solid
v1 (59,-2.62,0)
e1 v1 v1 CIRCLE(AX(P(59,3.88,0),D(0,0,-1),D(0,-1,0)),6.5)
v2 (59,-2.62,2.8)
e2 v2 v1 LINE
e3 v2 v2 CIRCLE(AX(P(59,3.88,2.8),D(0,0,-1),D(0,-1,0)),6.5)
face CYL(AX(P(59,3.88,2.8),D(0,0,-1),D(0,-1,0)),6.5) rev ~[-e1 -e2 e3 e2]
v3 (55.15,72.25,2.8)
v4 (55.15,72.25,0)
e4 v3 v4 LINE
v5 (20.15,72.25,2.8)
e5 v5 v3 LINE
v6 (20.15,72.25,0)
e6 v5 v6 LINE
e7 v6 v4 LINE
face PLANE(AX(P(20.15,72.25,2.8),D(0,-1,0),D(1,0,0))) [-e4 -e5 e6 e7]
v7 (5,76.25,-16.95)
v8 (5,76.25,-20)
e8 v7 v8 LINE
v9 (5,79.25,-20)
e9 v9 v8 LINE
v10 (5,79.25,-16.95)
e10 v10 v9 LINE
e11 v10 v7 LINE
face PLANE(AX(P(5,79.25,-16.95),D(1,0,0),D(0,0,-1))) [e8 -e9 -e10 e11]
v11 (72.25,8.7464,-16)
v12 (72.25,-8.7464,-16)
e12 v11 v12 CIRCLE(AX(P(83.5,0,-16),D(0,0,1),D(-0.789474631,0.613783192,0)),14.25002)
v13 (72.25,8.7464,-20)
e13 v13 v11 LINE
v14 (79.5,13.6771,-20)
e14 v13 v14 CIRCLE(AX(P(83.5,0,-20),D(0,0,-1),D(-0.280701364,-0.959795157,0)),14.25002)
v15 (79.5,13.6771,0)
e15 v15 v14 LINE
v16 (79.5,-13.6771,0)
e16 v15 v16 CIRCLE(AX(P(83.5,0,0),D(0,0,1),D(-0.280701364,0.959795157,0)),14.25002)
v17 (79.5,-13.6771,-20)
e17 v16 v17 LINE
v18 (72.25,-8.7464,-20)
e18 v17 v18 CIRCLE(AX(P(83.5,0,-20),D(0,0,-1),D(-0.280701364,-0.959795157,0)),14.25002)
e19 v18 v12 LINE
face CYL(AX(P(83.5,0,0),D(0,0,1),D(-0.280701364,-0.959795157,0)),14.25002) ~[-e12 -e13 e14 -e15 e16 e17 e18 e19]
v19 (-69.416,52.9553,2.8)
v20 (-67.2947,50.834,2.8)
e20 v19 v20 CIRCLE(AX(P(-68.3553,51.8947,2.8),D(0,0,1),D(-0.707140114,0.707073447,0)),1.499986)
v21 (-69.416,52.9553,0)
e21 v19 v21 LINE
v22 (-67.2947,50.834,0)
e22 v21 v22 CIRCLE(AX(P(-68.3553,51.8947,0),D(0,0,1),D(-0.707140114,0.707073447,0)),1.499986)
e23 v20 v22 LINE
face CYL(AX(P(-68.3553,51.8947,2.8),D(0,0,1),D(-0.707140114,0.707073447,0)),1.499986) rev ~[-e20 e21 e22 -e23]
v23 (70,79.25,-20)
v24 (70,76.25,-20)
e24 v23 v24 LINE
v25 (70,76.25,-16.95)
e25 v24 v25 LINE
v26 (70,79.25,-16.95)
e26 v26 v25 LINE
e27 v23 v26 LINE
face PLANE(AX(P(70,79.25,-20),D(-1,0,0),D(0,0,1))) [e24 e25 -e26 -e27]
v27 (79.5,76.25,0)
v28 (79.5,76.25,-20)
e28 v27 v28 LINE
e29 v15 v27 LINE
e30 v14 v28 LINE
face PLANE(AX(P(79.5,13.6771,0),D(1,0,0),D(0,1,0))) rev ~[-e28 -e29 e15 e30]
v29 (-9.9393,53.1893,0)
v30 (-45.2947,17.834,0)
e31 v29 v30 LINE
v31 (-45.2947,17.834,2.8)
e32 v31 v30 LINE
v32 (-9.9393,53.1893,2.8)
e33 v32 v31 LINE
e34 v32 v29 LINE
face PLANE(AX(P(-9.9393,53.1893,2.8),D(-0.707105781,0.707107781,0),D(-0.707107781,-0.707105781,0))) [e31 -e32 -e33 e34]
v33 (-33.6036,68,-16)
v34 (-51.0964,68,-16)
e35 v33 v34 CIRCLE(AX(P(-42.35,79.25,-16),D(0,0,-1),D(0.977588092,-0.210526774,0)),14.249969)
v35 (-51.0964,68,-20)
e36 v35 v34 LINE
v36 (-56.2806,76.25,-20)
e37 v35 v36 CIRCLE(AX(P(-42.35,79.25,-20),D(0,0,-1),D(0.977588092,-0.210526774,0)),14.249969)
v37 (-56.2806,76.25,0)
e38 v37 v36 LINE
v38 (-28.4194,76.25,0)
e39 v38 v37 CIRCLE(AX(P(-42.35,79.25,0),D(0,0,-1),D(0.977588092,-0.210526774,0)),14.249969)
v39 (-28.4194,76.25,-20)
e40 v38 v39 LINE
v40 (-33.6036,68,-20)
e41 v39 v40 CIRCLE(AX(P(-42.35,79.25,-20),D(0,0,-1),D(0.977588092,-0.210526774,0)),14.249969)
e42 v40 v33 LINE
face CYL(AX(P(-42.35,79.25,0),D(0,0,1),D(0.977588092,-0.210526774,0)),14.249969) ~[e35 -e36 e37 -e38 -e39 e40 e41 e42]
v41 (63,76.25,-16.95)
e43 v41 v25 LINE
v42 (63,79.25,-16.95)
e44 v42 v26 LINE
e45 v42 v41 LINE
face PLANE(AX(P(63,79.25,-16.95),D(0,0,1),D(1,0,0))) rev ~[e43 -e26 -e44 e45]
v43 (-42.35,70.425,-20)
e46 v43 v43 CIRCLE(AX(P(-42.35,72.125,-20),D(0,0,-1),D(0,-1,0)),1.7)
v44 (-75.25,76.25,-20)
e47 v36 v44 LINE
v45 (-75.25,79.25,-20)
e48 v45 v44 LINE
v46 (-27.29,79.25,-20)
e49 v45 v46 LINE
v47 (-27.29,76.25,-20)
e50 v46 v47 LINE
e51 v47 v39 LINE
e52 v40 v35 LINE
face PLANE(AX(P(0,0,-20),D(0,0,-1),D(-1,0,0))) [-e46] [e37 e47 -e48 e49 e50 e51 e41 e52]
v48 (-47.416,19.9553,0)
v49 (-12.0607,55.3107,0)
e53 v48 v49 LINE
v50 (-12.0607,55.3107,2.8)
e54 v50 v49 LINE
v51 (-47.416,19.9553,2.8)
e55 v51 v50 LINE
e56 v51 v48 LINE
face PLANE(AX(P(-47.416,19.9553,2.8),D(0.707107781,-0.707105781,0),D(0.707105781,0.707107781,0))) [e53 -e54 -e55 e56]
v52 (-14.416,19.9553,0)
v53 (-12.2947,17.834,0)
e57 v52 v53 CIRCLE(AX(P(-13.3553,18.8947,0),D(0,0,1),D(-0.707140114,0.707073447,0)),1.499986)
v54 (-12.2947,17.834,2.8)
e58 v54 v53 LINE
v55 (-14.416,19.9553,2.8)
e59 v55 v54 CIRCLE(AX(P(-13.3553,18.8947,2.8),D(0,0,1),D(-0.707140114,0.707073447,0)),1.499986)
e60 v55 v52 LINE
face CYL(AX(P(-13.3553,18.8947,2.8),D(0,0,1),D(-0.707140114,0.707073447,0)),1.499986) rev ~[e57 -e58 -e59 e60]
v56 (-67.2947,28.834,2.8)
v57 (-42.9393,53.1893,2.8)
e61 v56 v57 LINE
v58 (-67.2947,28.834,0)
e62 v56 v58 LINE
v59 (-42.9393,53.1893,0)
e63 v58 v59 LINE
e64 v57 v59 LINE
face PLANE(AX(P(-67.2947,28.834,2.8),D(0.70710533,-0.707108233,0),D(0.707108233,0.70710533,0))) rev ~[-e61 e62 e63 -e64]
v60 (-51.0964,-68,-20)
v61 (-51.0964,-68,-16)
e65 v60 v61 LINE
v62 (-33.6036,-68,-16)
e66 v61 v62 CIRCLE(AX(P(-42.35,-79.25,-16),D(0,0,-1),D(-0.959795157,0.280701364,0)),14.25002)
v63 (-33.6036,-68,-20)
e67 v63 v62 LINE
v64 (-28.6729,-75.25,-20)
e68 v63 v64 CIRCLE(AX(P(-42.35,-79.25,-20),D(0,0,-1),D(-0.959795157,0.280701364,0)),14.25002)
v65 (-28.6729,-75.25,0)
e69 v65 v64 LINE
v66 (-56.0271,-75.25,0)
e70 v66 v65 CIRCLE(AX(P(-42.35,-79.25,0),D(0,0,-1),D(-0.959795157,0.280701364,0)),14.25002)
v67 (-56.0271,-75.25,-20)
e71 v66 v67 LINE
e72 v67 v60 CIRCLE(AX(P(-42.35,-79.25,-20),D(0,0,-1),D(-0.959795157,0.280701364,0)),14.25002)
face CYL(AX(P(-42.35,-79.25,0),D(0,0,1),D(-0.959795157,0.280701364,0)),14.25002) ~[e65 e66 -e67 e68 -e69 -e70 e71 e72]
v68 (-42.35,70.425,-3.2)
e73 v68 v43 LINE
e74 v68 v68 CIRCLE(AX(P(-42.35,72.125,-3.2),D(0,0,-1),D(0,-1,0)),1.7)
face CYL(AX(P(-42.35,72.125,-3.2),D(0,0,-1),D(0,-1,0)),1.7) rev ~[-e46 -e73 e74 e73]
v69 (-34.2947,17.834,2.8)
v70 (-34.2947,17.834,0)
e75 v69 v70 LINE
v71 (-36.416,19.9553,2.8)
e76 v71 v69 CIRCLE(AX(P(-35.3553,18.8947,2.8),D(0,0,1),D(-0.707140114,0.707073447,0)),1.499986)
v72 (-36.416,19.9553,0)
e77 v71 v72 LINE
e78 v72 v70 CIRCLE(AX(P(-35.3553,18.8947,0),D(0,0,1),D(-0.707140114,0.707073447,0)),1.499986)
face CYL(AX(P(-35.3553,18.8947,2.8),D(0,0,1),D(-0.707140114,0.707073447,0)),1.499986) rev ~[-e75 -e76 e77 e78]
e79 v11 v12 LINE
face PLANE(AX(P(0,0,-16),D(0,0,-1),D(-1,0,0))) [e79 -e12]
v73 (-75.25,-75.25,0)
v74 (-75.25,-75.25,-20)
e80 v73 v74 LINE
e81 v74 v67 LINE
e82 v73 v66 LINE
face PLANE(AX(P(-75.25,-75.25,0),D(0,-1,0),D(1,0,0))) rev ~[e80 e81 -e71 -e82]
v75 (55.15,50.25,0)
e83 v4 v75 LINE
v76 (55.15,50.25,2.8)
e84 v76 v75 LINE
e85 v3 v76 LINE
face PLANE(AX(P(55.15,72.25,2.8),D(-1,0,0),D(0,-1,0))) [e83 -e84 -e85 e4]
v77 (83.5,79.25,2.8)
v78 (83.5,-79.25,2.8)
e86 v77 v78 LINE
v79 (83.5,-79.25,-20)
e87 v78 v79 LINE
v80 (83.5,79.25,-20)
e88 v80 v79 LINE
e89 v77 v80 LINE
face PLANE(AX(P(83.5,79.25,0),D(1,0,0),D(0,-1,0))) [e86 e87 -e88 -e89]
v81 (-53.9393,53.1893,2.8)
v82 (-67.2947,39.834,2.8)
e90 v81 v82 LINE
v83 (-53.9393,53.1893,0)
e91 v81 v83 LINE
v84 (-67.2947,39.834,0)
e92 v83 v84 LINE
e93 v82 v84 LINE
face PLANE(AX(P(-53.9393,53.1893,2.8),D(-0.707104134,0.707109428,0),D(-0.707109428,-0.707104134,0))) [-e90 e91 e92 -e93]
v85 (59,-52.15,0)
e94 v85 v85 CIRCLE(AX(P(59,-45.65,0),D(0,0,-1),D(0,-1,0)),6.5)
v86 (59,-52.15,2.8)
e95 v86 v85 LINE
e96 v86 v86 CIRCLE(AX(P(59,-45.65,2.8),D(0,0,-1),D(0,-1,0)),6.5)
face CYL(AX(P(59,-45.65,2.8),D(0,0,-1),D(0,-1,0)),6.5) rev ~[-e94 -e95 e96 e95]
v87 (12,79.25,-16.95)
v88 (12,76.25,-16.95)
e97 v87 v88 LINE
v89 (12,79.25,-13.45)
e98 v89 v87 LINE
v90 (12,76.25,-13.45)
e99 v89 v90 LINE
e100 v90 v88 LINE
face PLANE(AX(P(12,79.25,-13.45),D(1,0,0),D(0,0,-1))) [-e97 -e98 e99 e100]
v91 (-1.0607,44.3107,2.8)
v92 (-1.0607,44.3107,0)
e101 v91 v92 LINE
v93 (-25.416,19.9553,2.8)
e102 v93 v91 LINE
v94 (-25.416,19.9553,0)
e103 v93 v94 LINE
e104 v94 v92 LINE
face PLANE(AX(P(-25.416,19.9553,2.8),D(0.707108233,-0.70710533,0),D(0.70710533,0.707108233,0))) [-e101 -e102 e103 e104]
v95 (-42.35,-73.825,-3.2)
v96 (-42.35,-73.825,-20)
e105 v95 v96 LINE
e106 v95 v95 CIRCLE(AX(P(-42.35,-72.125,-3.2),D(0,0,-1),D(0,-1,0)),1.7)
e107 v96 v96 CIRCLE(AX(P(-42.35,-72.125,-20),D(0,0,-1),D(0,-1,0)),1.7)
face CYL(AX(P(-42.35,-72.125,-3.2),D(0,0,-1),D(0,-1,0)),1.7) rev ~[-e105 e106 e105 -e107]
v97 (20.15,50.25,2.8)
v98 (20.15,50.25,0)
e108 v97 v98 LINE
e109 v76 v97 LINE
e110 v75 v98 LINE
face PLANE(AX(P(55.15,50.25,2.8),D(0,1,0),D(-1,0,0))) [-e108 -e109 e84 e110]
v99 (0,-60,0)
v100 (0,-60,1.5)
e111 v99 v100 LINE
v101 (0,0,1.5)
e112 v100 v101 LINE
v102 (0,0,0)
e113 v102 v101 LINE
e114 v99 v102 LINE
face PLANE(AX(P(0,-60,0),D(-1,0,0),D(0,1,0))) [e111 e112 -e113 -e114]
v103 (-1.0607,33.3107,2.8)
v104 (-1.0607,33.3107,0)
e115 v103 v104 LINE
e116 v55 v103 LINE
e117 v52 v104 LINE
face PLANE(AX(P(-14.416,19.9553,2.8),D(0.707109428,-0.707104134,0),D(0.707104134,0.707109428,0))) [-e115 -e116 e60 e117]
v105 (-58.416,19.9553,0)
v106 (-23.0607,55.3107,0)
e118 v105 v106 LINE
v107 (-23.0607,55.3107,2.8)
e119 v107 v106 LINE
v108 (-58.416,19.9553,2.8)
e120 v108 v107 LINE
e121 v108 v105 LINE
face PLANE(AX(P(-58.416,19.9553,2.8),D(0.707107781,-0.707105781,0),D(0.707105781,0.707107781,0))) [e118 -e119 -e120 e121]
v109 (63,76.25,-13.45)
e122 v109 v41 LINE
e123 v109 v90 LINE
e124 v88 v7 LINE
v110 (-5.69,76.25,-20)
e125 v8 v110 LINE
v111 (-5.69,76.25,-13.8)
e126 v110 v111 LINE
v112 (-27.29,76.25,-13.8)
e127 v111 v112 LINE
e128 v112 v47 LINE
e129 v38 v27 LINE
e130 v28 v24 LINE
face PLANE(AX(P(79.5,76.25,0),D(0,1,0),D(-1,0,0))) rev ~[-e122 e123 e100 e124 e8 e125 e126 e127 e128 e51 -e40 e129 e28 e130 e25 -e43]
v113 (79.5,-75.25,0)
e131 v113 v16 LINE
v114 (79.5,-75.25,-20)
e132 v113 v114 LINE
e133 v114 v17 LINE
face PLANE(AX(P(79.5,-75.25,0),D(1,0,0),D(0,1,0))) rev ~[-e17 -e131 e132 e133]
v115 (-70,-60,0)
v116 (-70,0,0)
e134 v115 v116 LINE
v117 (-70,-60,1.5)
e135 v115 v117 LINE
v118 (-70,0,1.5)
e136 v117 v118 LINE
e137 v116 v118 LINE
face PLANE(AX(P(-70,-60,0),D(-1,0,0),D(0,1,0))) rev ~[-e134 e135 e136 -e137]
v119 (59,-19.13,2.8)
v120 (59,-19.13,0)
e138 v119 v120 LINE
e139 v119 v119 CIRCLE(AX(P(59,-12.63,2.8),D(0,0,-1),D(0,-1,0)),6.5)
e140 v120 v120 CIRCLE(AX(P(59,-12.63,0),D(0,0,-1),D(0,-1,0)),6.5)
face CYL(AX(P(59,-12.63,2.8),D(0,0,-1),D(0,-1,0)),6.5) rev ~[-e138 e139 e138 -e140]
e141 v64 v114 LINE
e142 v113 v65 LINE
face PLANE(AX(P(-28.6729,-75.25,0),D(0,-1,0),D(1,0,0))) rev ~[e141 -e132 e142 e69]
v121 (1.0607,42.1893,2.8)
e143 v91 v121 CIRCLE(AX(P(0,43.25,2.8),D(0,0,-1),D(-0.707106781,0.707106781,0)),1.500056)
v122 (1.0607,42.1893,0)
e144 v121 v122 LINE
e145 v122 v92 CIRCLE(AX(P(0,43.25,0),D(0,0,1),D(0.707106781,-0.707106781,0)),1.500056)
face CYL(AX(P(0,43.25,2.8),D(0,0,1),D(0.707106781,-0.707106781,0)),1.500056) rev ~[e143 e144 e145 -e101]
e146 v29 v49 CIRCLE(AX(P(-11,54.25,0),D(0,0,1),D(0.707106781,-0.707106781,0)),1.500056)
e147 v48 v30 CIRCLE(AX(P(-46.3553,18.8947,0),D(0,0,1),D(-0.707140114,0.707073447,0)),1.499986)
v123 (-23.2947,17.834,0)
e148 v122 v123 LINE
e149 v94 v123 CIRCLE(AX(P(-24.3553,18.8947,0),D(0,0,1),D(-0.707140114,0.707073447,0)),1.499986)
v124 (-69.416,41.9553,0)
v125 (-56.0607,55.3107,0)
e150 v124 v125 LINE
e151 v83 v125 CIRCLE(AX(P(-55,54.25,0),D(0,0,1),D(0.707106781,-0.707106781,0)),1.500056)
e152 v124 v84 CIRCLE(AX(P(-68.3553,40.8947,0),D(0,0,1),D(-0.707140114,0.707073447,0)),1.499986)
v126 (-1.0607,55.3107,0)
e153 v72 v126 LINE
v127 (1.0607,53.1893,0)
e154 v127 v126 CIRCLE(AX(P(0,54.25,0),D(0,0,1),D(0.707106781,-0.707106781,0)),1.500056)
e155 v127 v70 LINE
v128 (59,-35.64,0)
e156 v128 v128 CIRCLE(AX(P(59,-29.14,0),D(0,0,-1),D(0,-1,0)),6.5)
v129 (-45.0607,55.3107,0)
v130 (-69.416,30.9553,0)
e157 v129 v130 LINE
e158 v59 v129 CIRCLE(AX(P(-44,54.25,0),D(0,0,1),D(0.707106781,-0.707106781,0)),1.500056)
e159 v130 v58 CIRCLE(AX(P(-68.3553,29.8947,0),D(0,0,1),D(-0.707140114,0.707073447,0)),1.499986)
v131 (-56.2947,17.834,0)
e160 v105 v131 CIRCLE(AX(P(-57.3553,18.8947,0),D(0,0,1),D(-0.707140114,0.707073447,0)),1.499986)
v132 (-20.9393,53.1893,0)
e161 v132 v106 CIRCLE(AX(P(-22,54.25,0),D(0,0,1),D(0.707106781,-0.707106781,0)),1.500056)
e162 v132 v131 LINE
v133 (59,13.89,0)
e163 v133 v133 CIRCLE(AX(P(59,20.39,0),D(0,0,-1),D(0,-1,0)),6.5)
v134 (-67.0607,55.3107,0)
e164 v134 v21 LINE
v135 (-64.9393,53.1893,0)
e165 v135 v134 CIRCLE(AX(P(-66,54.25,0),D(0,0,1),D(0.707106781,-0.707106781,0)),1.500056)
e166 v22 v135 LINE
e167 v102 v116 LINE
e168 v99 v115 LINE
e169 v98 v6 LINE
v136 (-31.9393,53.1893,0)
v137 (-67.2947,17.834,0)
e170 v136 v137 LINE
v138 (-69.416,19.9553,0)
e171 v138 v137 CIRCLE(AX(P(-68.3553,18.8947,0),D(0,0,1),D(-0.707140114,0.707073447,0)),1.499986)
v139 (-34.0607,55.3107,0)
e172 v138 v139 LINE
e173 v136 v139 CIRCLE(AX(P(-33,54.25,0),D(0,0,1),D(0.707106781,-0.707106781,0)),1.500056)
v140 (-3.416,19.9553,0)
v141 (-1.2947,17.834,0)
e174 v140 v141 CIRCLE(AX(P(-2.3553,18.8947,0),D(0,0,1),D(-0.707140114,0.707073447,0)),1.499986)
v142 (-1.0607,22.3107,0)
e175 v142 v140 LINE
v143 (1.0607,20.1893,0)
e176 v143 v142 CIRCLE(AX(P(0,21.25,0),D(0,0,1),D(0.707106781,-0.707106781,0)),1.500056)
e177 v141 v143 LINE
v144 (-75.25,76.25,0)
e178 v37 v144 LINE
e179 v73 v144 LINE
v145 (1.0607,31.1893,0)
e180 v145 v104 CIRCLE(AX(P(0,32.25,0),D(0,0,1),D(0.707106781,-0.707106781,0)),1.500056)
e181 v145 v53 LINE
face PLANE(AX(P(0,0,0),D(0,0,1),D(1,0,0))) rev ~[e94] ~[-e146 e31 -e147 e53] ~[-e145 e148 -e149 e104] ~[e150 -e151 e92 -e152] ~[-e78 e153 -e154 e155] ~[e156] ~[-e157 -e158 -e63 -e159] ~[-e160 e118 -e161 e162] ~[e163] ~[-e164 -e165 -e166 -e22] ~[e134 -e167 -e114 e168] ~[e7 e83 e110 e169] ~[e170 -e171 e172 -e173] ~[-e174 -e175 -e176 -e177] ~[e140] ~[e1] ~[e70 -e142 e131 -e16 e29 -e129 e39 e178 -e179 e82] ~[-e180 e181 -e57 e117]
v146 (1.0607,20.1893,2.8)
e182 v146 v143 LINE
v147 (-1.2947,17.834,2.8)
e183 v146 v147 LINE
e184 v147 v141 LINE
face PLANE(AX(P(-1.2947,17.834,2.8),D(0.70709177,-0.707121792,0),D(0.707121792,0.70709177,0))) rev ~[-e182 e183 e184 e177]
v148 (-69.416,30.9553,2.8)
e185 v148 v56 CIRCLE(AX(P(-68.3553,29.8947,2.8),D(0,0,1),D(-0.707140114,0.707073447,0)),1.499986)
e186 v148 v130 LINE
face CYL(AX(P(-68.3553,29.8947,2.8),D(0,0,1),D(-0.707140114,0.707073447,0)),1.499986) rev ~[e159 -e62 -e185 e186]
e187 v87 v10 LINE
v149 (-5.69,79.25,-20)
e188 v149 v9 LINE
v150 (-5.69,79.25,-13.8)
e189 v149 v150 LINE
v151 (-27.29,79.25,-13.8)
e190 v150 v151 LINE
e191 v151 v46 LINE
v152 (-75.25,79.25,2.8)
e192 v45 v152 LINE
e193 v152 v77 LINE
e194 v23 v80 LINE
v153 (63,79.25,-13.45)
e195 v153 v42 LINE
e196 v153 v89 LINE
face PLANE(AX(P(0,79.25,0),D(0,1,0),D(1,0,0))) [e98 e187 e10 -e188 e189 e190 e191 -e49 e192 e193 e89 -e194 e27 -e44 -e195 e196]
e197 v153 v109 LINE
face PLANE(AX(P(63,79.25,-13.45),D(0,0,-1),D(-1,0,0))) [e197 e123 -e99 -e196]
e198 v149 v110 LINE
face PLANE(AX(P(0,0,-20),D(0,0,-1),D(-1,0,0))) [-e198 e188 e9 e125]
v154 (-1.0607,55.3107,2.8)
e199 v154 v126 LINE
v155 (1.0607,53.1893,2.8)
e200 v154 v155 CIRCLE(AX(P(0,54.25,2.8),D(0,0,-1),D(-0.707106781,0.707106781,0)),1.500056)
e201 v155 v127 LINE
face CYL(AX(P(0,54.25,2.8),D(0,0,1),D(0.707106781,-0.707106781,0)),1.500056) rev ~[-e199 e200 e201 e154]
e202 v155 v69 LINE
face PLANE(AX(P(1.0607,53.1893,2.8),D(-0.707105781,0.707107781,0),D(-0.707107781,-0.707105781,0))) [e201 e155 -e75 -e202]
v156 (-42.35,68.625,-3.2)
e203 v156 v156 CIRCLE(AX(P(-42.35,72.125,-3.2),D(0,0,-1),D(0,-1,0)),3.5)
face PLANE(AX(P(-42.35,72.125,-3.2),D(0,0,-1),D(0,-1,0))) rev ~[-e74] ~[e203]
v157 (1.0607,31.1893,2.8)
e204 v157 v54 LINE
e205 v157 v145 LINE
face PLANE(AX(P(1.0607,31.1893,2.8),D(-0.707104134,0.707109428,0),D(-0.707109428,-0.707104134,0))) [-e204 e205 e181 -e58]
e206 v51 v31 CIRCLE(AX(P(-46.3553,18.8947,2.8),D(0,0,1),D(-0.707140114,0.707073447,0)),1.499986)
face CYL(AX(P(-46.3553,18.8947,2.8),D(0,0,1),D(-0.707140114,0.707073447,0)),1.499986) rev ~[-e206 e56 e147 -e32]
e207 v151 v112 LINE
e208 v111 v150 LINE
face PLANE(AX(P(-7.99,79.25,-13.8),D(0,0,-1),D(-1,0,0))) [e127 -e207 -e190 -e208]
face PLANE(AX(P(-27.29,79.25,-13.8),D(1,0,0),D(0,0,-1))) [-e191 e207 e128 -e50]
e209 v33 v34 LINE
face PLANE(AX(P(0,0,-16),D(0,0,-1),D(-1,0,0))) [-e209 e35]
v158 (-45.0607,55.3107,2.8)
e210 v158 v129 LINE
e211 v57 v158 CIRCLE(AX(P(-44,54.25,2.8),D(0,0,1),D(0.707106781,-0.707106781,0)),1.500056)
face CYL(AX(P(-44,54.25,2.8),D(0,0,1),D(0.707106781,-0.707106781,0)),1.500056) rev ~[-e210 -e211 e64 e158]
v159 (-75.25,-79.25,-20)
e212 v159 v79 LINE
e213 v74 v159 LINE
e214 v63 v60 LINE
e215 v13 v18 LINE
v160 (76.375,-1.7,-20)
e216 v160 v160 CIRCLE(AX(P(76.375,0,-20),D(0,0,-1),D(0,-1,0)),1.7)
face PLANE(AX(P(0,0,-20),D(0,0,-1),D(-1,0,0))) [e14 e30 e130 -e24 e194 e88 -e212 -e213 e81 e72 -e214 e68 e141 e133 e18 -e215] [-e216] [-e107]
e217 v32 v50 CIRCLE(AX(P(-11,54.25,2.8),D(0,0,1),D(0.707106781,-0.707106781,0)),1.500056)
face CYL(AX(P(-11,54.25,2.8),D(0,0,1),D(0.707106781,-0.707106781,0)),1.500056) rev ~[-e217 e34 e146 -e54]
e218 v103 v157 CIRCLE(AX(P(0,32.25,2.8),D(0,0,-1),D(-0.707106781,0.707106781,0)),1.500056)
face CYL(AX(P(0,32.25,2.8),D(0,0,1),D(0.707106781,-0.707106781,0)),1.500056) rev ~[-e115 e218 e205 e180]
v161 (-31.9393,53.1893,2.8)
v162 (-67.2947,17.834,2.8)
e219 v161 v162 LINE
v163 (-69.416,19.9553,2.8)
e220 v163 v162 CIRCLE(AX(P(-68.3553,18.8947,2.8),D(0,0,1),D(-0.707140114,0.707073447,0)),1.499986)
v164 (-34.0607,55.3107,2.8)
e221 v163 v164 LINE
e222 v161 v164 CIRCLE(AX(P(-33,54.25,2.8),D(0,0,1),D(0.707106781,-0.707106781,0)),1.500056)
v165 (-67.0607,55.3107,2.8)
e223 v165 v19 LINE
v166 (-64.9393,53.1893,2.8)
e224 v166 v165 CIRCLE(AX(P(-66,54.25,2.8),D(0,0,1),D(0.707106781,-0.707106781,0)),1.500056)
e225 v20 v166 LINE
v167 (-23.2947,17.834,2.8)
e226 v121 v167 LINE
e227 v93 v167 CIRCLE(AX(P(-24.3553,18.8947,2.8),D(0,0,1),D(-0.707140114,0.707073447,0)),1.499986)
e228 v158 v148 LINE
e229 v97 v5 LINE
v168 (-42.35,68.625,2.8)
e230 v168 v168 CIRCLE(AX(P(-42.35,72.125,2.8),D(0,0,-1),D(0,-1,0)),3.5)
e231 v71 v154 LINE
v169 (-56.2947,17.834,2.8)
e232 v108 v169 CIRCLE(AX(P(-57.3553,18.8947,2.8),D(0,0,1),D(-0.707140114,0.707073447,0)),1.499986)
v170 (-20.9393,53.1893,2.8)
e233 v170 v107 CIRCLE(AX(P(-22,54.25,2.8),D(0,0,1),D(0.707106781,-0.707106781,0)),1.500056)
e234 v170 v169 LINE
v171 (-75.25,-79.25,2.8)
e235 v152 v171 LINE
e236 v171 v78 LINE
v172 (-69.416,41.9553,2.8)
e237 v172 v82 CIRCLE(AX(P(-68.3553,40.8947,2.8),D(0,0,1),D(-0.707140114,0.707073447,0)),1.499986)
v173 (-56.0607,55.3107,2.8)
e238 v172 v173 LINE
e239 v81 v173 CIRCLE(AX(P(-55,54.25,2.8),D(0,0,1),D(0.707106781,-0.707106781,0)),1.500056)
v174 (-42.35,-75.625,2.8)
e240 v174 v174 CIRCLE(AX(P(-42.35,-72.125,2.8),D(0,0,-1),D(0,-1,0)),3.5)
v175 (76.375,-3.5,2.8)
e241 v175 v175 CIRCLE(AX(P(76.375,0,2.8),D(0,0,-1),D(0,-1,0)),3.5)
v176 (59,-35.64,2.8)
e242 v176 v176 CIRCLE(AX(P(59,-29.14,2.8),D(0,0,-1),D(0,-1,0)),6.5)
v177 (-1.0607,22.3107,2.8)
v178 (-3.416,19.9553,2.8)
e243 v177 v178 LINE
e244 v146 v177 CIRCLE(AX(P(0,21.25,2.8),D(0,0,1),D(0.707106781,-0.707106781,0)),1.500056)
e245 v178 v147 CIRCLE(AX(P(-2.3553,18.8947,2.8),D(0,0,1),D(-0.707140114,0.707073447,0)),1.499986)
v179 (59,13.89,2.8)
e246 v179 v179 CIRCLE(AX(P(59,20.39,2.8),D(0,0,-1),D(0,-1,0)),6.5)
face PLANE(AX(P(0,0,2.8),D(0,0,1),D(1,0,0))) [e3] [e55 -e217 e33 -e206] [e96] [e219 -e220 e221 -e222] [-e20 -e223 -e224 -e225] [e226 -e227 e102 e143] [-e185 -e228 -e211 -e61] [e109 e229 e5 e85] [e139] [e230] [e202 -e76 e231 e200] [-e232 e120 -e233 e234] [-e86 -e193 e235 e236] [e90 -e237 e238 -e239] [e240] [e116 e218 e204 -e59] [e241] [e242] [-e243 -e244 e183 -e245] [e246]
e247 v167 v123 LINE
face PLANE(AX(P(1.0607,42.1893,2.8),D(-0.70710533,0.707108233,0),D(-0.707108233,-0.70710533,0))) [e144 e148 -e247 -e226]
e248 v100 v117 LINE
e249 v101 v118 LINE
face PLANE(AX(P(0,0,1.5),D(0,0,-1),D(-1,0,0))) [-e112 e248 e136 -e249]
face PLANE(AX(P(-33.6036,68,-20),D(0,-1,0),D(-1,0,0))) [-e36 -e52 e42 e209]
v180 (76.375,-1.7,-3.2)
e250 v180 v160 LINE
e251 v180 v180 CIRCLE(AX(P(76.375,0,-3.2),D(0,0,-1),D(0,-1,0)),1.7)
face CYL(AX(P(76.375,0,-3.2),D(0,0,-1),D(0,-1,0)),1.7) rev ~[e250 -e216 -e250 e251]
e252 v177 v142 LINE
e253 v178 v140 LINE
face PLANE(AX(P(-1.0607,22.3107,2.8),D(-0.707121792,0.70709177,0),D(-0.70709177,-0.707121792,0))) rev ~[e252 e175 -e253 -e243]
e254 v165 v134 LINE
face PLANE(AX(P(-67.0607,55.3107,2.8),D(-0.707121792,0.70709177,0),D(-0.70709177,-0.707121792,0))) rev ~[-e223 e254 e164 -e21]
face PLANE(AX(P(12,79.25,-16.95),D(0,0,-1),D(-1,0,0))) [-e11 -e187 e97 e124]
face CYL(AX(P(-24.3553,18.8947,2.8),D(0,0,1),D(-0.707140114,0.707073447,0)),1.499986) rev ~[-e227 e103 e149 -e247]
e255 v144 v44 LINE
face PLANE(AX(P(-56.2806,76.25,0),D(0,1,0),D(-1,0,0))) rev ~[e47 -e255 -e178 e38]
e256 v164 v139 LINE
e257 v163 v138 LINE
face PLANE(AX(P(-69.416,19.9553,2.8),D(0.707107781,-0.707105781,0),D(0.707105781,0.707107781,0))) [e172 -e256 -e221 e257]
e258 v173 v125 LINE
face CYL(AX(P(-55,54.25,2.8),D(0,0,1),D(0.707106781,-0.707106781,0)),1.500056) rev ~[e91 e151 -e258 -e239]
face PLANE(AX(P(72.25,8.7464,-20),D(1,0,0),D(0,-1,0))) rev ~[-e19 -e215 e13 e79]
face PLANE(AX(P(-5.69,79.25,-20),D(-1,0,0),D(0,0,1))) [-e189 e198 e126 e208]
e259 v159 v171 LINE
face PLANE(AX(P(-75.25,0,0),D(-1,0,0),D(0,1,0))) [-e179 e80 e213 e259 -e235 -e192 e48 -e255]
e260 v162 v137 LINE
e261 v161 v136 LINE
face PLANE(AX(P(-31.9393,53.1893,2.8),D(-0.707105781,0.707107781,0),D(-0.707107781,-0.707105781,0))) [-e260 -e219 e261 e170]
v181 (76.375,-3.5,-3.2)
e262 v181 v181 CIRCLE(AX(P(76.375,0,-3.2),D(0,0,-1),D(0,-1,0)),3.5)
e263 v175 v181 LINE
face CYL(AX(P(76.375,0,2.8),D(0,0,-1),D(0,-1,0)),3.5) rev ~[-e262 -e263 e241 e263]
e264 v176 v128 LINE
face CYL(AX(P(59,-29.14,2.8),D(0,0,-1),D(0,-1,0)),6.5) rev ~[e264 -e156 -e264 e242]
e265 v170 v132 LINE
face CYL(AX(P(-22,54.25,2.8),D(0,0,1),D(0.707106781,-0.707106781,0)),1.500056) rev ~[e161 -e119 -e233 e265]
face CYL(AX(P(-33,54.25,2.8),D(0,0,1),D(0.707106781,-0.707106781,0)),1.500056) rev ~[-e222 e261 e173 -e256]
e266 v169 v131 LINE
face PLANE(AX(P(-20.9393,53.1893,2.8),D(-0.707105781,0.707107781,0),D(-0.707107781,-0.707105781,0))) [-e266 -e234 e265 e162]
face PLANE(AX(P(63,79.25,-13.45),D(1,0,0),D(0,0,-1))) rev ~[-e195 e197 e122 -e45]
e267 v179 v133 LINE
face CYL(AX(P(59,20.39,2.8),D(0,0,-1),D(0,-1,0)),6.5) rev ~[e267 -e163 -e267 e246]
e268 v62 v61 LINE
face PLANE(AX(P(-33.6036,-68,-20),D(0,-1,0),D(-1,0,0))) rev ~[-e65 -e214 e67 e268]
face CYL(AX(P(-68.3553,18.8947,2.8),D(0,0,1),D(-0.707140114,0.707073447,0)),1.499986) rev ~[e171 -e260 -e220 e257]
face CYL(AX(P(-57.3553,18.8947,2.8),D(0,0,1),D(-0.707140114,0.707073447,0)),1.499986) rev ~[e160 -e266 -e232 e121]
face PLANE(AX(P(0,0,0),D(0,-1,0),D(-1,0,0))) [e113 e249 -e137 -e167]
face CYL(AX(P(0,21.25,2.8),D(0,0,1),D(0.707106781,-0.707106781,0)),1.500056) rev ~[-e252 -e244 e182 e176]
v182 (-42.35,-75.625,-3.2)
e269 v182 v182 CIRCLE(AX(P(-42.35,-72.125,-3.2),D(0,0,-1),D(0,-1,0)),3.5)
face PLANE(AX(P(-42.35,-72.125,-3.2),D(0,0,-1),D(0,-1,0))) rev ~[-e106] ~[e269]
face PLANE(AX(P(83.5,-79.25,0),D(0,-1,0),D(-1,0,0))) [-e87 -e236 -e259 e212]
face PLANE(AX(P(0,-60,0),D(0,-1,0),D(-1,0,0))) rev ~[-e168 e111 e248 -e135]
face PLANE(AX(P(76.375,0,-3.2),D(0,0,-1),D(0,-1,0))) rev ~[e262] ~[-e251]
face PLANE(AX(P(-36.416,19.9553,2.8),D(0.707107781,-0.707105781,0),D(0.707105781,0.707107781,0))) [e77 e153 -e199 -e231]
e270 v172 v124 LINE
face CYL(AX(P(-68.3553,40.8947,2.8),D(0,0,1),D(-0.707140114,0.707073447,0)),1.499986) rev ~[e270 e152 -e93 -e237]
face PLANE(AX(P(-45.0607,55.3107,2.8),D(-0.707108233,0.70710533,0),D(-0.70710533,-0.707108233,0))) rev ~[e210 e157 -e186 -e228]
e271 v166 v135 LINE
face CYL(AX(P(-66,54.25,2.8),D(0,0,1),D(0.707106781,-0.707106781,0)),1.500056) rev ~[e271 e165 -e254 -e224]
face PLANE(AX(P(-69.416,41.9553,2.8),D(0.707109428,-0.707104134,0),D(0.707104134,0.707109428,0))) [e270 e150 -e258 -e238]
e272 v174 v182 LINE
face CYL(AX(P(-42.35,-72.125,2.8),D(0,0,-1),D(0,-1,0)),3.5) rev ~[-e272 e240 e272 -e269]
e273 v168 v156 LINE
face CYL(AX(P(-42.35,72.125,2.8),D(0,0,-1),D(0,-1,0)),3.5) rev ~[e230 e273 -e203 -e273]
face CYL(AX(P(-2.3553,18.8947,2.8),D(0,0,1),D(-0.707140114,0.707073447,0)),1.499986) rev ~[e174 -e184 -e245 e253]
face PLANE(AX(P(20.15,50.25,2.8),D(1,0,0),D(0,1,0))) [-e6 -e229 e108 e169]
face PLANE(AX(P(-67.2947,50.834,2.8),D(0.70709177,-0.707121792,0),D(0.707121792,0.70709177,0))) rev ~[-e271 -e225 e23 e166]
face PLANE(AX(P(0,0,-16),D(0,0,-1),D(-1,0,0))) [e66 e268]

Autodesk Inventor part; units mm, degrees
ref_plane "YZ Plane" through (0, 0, 0) normal (1, 0, 0) x (0, 1, 0)
ref_plane "XZ Plane" through (0, 0, 0) normal (0, 1, 0) x (-1, 0, 0)
ref_plane "XY Plane" through (0, 0, 0) normal (0, 0, 1) x (1, 0, 0)
sketch "Náčrt1" plane through (0, 0, 0) normal (0, 0, 1) x (1, 0, 0)
  line L0 (0, 110.95) -> (0, -110.95) projected
  line L1 (-107, 0) -> (115.25, 0) projected
  line L2 (-75.25, 79.25) -> (83.5, 79.25)
  line L3 (83.5, 79.25) -> (83.5, -79.25)
  line L4 (83.5, -79.25) -> (-75.25, -79.25)
  line L5 (-75.25, -79.25) -> (-75.25, 79.25)
  point P0 (0, 0)
  dimension "d0" = 158.75
  dimension "d1" = 158.5
  dimension "d7" = 83.5
extrude "Vysunutí1" add sketch "Náčrt1" along normal blind 2.8
sketch "Náčrt2" plane through (0, 0, 0) normal (0, 0, -1) x (-1, 0, 0)
  line L0 (75.25, -79.25) -> (-83.5, -79.25) projected
  line L1 (75.25, 79.25) -> (75.25, -79.25) projected
  line L2 (-83.5, 79.25) -> (75.25, 79.25) projected
  line L3 (-83.5, -79.25) -> (-83.5, 79.25) projected
  line L4 (-115.3, 0) -> (107.3, 0) projected
  line L5 (0, -110.95) -> (0, 110.95) projected
  line L6 (-83.5, -79.25) -> (-83.5, 79.25) projected
  line L7 (75.25, 79.25) -> (75.25, -79.25) projected
  line L8 (-83.5, 79.25) -> (75.25, 79.25)
  line L9 (75.25, 79.25) -> (75.25, -79.25)
  line L10 (75.25, -79.25) -> (-83.5, -79.25)
  line L11 (-83.5, -79.25) -> (-83.5, 79.25)
  line L12 (-79.5, 76.25) -> (75.25, 76.25)
  line L13 (75.25, -75.25) -> (-79.5, -75.25)
  line L14 (-79.5, -75.25) -> (-79.5, 76.25)
  arc A0 (-79.5, -13.6771) -> (-79.5, 13.6771) centre (-83.5, 0) ccw
  line L15 (-83.5, 79.25) -> (75.25, 79.25) projected
  arc A1 (28.4194, 76.25) -> (56.2806, 76.25) centre (42.35, 79.25) ccw
  line L16 (75.25, -79.25) -> (-83.5, -79.25) projected
  arc A2 (56.0271, -75.25) -> (28.6729, -75.25) centre (42.35, -79.25) ccw
  line L17 (75.25, 79.25) -> (75.25, 76.25)
  line L18 (75.25, -75.25) -> (75.25, -79.25)
  point P0 (0, 0)
  point P1 (75.25, 76.25)
  point P2 (75.25, -75.25)
  dimension "d4" = 3
  dimension "d5" = 4
  dimension "d6" = 4
  dimension "d8" = 28.5
  dimension "d9" = 28.5
  dimension "d10" = 42.35
  dimension "d12" = 42.35
  dimension "d13" = 14.25
extrude "Vysunutí2" add sketch "Náčrt2" along normal blind 20 contours L0 L5 L13 L1 | L0 L3 L4 L14 L13 L5 | L13 A2 | L3 L2 L5 L12 L14 L4 | L12 L5 L2 L1 | L14 A0 L4 | L4 A0 L14 | A1 L12
sketch "Náčrt3" plane through (0, 0, -20) normal (0, 0, -1) x (-1, 0, 0)
  arc A0 (28.4194, 76.25) -> (56.2806, 76.25) centre (42.35, 79.25) ccw projected
  line L0 (56.2806, 76.25) -> (75.25, 76.25) projected
  line L1 (75.25, 76.25) -> (75.25, 79.25) projected
  line L2 (75.25, 79.25) -> (-83.5, 79.25) projected
  line L3 (-83.5, 79.25) -> (-83.5, -79.25) projected
  line L4 (-83.5, -79.25) -> (75.25, -79.25) projected
  line L5 (75.25, -79.25) -> (75.25, -75.25) projected
  line L6 (75.25, -75.25) -> (56.0271, -75.25) projected
  arc A1 (56.0271, -75.25) -> (28.6729, -75.25) centre (42.35, -79.25) ccw projected
  line L7 (28.6729, -75.25) -> (-79.5, -75.25) projected
  line L8 (-79.5, -75.25) -> (-79.5, -13.6771) projected
  arc A2 (-79.5, -13.6771) -> (-79.5, 13.6771) centre (-83.5, 0) ccw projected
  line L9 (-79.5, 13.6771) -> (-79.5, 76.25) projected
  line L10 (-79.5, 76.25) -> (28.4194, 76.25) projected
  arc A3 (-79.5, -13.6771) -> (-79.5, 13.6771) centre (-83.5, 0) ccw projected
  circle A4 centre (42.35, 79.25) radius 14.25
  circle A5 centre (-83.5, 0) radius 14.25
  arc A6 (56.0271, -75.25) -> (28.6729, -75.25) centre (42.35, -79.25) ccw projected
  circle A7 centre (42.35, -79.25) radius 14.25
  line L11 (33.6036, 68) -> (51.0964, 68)
  line L12 (33.6036, -68) -> (51.0964, -68)
  line L13 (-72.25, 8.7464) -> (-72.25, -8.7464)
  point P0 (0, 0)
  point P1 (42.35, 65)
  point P2 (42.35, -65)
  point P3 (-69.25, 0)
  dimension "d16" = 3
  dimension "d17" = 3
  dimension "d18" = 3
extrude "Vysunutí3" cut sketch "Náčrt3" against normal blind 4 contours L11 A0 | A2 L13 | A1 L12
sketch "Náčrt4" plane through (0, 0, 2.8) normal (0, 0, 1) x (1, 0, 0)
  line L0 (0, 110.95) -> (0, -110.95) projected
  line L1 (-107.3, 0) -> (115.3, 0) projected
  line L2 (-75.25, -79.25) -> (83.5, -79.25) projected
  line L3 (83.5, -79.25) -> (83.5, 79.25) projected
  line L4 (83.5, 79.25) -> (-75.25, 79.25) projected
  line L5 (-75.25, 79.25) -> (-75.25, -79.25) projected
  line L6 (-36.416, 17.834) -> (1.0607, 55.3107) construction
  line L7 (-36.416, 19.9553) -> (-1.0607, 55.3107)
  line L8 (1.0607, 53.1893) -> (-34.2947, 17.834)
  arc A0 (-36.416, 19.9553) -> (-34.2947, 17.834) centre (-35.3553, 18.8947) ccw
  arc A1 (1.0607, 53.1893) -> (-1.0607, 55.3107) centre (0, 54.25) ccw
  arc A2 (-47.416, 19.9553) -> (-45.2947, 17.834) centre (-46.3553, 18.8947) ccw
  line L9 (-47.416, 19.9553) -> (-12.0607, 55.3107)
  line L10 (-47.416, 17.834) -> (-9.9393, 55.3107) construction
  line L11 (-9.9393, 53.1893) -> (-45.2947, 17.834)
  arc A3 (-9.9393, 53.1893) -> (-12.0607, 55.3107) centre (-11, 54.25) ccw
  arc A4 (-58.416, 19.9553) -> (-56.2947, 17.834) centre (-57.3553, 18.8947) ccw
  line L12 (-58.416, 19.9553) -> (-23.0607, 55.3107)
  line L13 (-58.416, 17.834) -> (-20.9393, 55.3107) construction
  line L14 (-20.9393, 53.1893) -> (-56.2947, 17.834)
  arc A5 (-20.9393, 53.1893) -> (-23.0607, 55.3107) centre (-22, 54.25) ccw
  arc A6 (-69.416, 19.9553) -> (-67.2947, 17.834) centre (-68.3553, 18.8947) ccw
  line L15 (-69.416, 19.9553) -> (-34.0607, 55.3107)
  line L16 (-69.416, 17.834) -> (-31.9393, 55.3107) construction
  line L17 (-31.9393, 53.1893) -> (-67.2947, 17.834)
  arc A7 (-31.9393, 53.1893) -> (-34.0607, 55.3107) centre (-33, 54.25) ccw
  line L18 (-25.416, 17.834) -> (1.0607, 44.3107) construction
  line L19 (-25.416, 19.9553) -> (-1.0607, 44.3107)
  line L20 (1.0607, 42.1893) -> (-23.2947, 17.834)
  arc A8 (-25.416, 19.9553) -> (-23.2947, 17.834) centre (-24.3553, 18.8947) ccw
  arc A9 (1.0607, 42.1893) -> (-1.0607, 44.3107) centre (0, 43.25) ccw
  line L21 (-14.416, 17.834) -> (1.0607, 33.3107) construction
  line L22 (-14.416, 19.9553) -> (-1.0607, 33.3107)
  line L23 (1.0607, 31.1893) -> (-12.2947, 17.834)
  arc A10 (-14.416, 19.9553) -> (-12.2947, 17.834) centre (-13.3553, 18.8947) ccw
  arc A11 (1.0607, 31.1893) -> (-1.0607, 33.3107) centre (0, 32.25) ccw
  line L24 (-52.1324, 18.6176) -> (-15.5772, 55.1728) construction
  line L25 (-69.416, 28.834) -> (-42.9393, 55.3107) construction
  line L26 (-67.2947, 28.834) -> (-42.9393, 53.1893)
  line L27 (-45.0607, 55.3107) -> (-69.416, 30.9553)
  arc A12 (-69.416, 30.9553) -> (-67.2947, 28.834) centre (-68.3553, 29.8947) ccw
  arc A13 (-42.9393, 53.1893) -> (-45.0607, 55.3107) centre (-44, 54.25) ccw
  line L28 (-69.416, 39.834) -> (-53.9393, 55.3107) construction
  line L29 (-69.416, 41.9553) -> (-56.0607, 55.3107)
  line L30 (-53.9393, 53.1893) -> (-67.2947, 39.834)
  arc A14 (-69.416, 41.9553) -> (-67.2947, 39.834) centre (-68.3553, 40.8947) ccw
  arc A15 (-53.9393, 53.1893) -> (-56.0607, 55.3107) centre (-55, 54.25) ccw
  line L31 (-68.3553, 18.8947) -> (-68.3553, 54.25) construction
  line L32 (0, 54.25) -> (-68.3553, 54.25) construction
  line L33 (-3.416, 17.834) -> (1.0607, 22.3107) construction
  line L34 (-1.2947, 17.834) -> (1.0607, 20.1893)
  line L35 (-1.0607, 22.3107) -> (-3.416, 19.9553)
  arc A16 (-3.416, 19.9553) -> (-1.2947, 17.834) centre (-2.3553, 18.8947) ccw
  arc A17 (1.0607, 20.1893) -> (-1.0607, 22.3107) centre (0, 21.25) ccw
  line L36 (-69.416, 50.834) -> (-64.9393, 55.3107) construction
  line L37 (-67.2947, 50.834) -> (-64.9393, 53.1893)
  line L38 (-67.0607, 55.3107) -> (-69.416, 52.9553)
  arc A18 (-69.416, 52.9553) -> (-67.2947, 50.834) centre (-68.3553, 51.8947) ccw
  arc A19 (-64.9393, 53.1893) -> (-67.0607, 55.3107) centre (-66, 54.25) ccw
  point P0 (0, 0)
  point P1 (-17.6777, 36.5723)
  point P2 (-28.6777, 36.5723)
  point P3 (-39.6777, 36.5723)
  point P4 (-50.6777, 36.5723)
  point P5 (-12.1777, 31.0723)
  point P6 (-6.6777, 25.5723)
  point P7 (-56.1777, 42.0723)
  point P8 (-61.6777, 47.5723)
  point P9 (-1.1777, 20.0723)
  point P10 (-67.1777, 53.0723)
  dimension "d21" = 45
  dimension "d22" = 50
  dimension "d23" = 3
  dimension "d24" = 25
  dimension "d27" = 11
  dimension "d32" = 3
  dimension "d33" = 45
  dimension "d36" = 11
  dimension "d38" = 3
  dimension "d39" = 45
  dimension "d40" = 11
  dimension "d42" = 11
  dimension "d43" = 11
  dimension "d44" = 11
  dimension "d45" = 11
  dimension "d46" = 11
  dimension "d47" = 11
  dimension "d48" = 3
  dimension "d49" = 3
  dimension "d52" = 3
  dimension "d53" = 45
  dimension "d54" = 11
  dimension "d55" = 11
  dimension "d56" = 3
  dimension "d57" = 11
  dimension "d58" = 11
extrude "Vysunutí4" cut sketch "Náčrt4" against normal through all contours A1 L8 L0 | L0 L8 A0 L7 A1 | A9 L20 L0 | L0 L20 A8 L19 A9 | L34 A16 L35 A17 L0 | L0 A17 L34 | A11 L23 L0 | L0 L23 A10 L22 A11 | L9 A3 L11 A2 | L12 A5 L14 A4 | L15 A7 L17 A6 | A12 L27 A13 L26 | L29 A15 L30 A14 | A18 L38 A19 L37
sketch "Náčrt5" plane through (-75.25, 79.25, 2.8) normal (0, 1, 0) x (1, 0, 0)
  line L0 (0, 22.8) -> (0, 0) projected
  line L1 (158.75, 0) -> (0, 0) projected
  line L2 (158.75, 22.8) -> (158.75, 0) projected
  line L3 (0, 22.8) -> (158.75, 22.8) projected
  line L4 (75.25, 27.36) -> (75.25, -4.56) projected
  line L5 (190.8, 2.8) -> (-31.8, 2.8) projected
  line L6 (158.75, 22.8) -> (0, 22.8) projected
  line L7 (80.25, 22.8) -> (145.25, 22.8)
  line L8 (145.25, 22.8) -> (145.25, 16.25)
  line L9 (145.25, 16.25) -> (80.25, 16.25)
  line L10 (80.25, 16.25) -> (80.25, 22.8)
  line L11 (145.25, 16.25) -> (138.25, 16.25)
  line L12 (138.25, 16.25) -> (138.25, 19.75)
  line L13 (138.25, 19.75) -> (145.25, 19.75)
  line L14 (145.25, 19.75) -> (145.25, 16.25)
  line L15 (80.25, 16.25) -> (87.25, 16.25)
  line L16 (87.25, 16.25) -> (87.25, 19.75)
  line L17 (87.25, 19.75) -> (80.25, 19.75)
  line L18 (80.25, 19.75) -> (80.25, 16.25)
  point P0 (75.25, 2.8)
  dimension "d59" = 6.55
  dimension "d60" = 65
  dimension "d61" = 13.5
  dimension "d62" = 7
  dimension "d63" = 3.5
  dimension "d64" = 7
  dimension "d65" = 3.5
extrude "Vysunutí5" cut sketch "Náčrt5" against normal up to surface (3 mm away) contours L3 L8 L13 L12 L9 L16 L17 L10
sketch "Náčrt6" plane through (-75.25, 79.25, 2.8) normal (0, 1, 0) x (1, 0, 0)
  line L0 (145.25, 22.8) -> (145.25, 19.75) projected
  line L1 (145.25, 19.75) -> (138.25, 19.75) projected
  line L2 (138.25, 19.75) -> (138.25, 16.25) projected
  line L3 (138.25, 16.25) -> (87.25, 16.25) projected
  line L4 (87.25, 16.25) -> (87.25, 19.75) projected
  line L5 (87.25, 19.75) -> (80.25, 19.75) projected
  line L6 (80.25, 19.75) -> (80.25, 22.8) projected
  line L7 (0, 22.8) -> (80.25, 22.8) projected
  line L8 (0, 22.8) -> (0, 0) projected
  line L9 (158.75, 0) -> (0, 0) projected
  line L10 (158.75, 22.8) -> (158.75, 0) projected
  line L11 (145.25, 22.8) -> (158.75, 22.8) projected
  line L12 (158.75, 22.8) -> (0, 22.8) projected
  line L13 (47.96, 22.8) -> (67.26, 22.8)
  line L14 (67.26, 22.8) -> (67.26, 16.6)
  line L15 (67.26, 16.6) -> (47.96, 16.6)
  line L16 (47.96, 16.6) -> (47.96, 22.8)
  point P0 (75.25, 2.8)
  dimension "d68" = 91.49
  dimension "d69" = 19.3
  dimension "d70" = 6.2
extrude "Vysunutí6" cut sketch "Náčrt6" against normal up to surface (3 mm away) contours L14 L15 L16 L7
sketch "Náčrt7" plane through (0, 0, 2.8) normal (0, 0, 1) x (1, 0, 0)
  arc A0 (-69.416, 41.9553) -> (-67.2947, 39.834) centre (-68.3553, 40.8947) ccw projected
  line L0 (-69.416, 41.9553) -> (-56.0607, 55.3107) projected
  arc A1 (-53.9393, 53.1893) -> (-56.0607, 55.3107) centre (-55, 54.25) ccw projected
  line L1 (-53.9393, 53.1893) -> (-67.2947, 39.834) projected
  arc A2 (-47.416, 19.9553) -> (-45.2947, 17.834) centre (-46.3553, 18.8947) ccw projected
  line L2 (-47.416, 19.9553) -> (-12.0607, 55.3107) projected
  arc A3 (-9.9393, 53.1893) -> (-12.0607, 55.3107) centre (-11, 54.25) ccw projected
  line L3 (-9.9393, 53.1893) -> (-45.2947, 17.834) projected
  arc A4 (1.0607, 31.1893) -> (-1.0607, 33.3107) centre (0, 32.25) ccw projected
  line L4 (1.0607, 31.1893) -> (-12.2947, 17.834) projected
  arc A5 (-14.416, 19.9553) -> (-12.2947, 17.834) centre (-13.3553, 18.8947) ccw projected
  line L5 (-14.416, 19.9553) -> (-1.0607, 33.3107) projected
  arc A6 (-58.416, 19.9553) -> (-56.2947, 17.834) centre (-57.3553, 18.8947) ccw projected
  line L6 (-58.416, 19.9553) -> (-23.0607, 55.3107) projected
  arc A7 (-20.9393, 53.1893) -> (-23.0607, 55.3107) centre (-22, 54.25) ccw projected
  line L7 (-20.9393, 53.1893) -> (-56.2947, 17.834) projected
  arc A8 (1.0607, 20.1893) -> (-1.0607, 22.3107) centre (0, 21.25) ccw projected
  line L8 (1.0607, 20.1893) -> (-1.2947, 17.834) projected
  arc A9 (-3.416, 19.9553) -> (-1.2947, 17.834) centre (-2.3553, 18.8947) ccw projected
  line L9 (-3.416, 19.9553) -> (-1.0607, 22.3107) projected
  line L10 (-69.416, 30.9553) -> (-45.0607, 55.3107) projected
  arc A10 (-42.9393, 53.1893) -> (-45.0607, 55.3107) centre (-44, 54.25) ccw projected
  line L11 (-42.9393, 53.1893) -> (-67.2947, 28.834) projected
  arc A11 (-69.416, 30.9553) -> (-67.2947, 28.834) centre (-68.3553, 29.8947) ccw projected
  arc A12 (1.0607, 53.1893) -> (-1.0607, 55.3107) centre (0, 54.25) ccw projected
  line L12 (1.0607, 53.1893) -> (-34.2947, 17.834) projected
  arc A13 (-36.416, 19.9553) -> (-34.2947, 17.834) centre (-35.3553, 18.8947) ccw projected
  line L13 (-36.416, 19.9553) -> (-1.0607, 55.3107) projected
  arc A14 (1.0607, 42.1893) -> (-1.0607, 44.3107) centre (0, 43.25) ccw projected
  line L14 (1.0607, 42.1893) -> (-23.2947, 17.834) projected
  arc A15 (-25.416, 19.9553) -> (-23.2947, 17.834) centre (-24.3553, 18.8947) ccw projected
  line L15 (-25.416, 19.9553) -> (-1.0607, 44.3107) projected
  arc A16 (-69.416, 19.9553) -> (-67.2947, 17.834) centre (-68.3553, 18.8947) ccw projected
  line L16 (-69.416, 19.9553) -> (-34.0607, 55.3107) projected
  arc A17 (-31.9393, 53.1893) -> (-34.0607, 55.3107) centre (-33, 54.25) ccw projected
  line L17 (-31.9393, 53.1893) -> (-67.2947, 17.834) projected
  line L18 (-69.416, 52.9553) -> (-67.0607, 55.3107) projected
  arc A18 (-64.9393, 53.1893) -> (-67.0607, 55.3107) centre (-66, 54.25) ccw projected
  line L19 (-64.9393, 53.1893) -> (-67.2947, 50.834) projected
  arc A19 (-69.416, 52.9553) -> (-67.2947, 50.834) centre (-68.3553, 51.8947) ccw projected
  line L20 (-75.25, -79.25) -> (83.5, -79.25) projected
  line L21 (83.5, -79.25) -> (83.5, 79.25) projected
  line L22 (83.5, 79.25) -> (-75.25, 79.25) projected
  line L23 (-75.25, 79.25) -> (-75.25, -79.25) projected
  arc A20 (-56.2806, 76.25) -> (-28.4194, 76.25) centre (-42.35, 79.25) ccw projected
  arc A21 (79.5, 13.6771) -> (79.5, -13.6771) centre (83.5, 0) ccw projected
  arc A22 (-28.6729, -75.25) -> (-56.0271, -75.25) centre (-42.35, -79.25) ccw projected
  line L24 (0, 110.95) -> (0, -110.95) projected
  line L25 (-107, 0) -> (115.25, 0) projected
  point P0 (0, 0)
  point P1 (-42.35, 72.125)
  point P2 (76.375, 0)
  point P3 (-42.35, -72.125)
  dimension "d73" = 7.125
  dimension "d74" = 7.125
  dimension "d75" = 7.125
  dimension "d76" = 42.35
  dimension "d77" = 42.35
hole "Díra1" at (-42.35, 72.125, 2.8) at (76.375, 0, 2.8) at (-42.35, -72.125, 2.8) direction (0, 0, -1) diameter 7 depth 6
sketch "Náčrt8" plane through (-42.35, 72.125, -3.2) normal (0, 0, 1) x (1, 0, 0)
  circle A0 centre (0, 0) radius 3.5 projected
  circle A1 centre (0, -144.25) radius 3.5 projected
  circle A2 centre (118.725, -72.125) radius 3.5 projected
  point P0 (42.35, -72.125)
hole "Díra2" at (-42.35, 72.125, -3.2) at (76.375, 0, -3.2) at (-42.35, -72.125, -3.2) direction (0, 0, -1) diameter 3.4 depth 16.8
sketch "Náčrt9" plane through (0, 0, 2.8) normal (0, 0, 1) x (1, 0, 0)
  circle A0 centre (76.375, 0) radius 3.5 projected
  circle A1 centre (-42.35, 72.125) radius 3.5 projected
  circle A2 centre (-42.35, -72.125) radius 3.5 projected
  arc A3 (-69.416, 41.9553) -> (-67.2947, 39.834) centre (-68.3553, 40.8947) ccw projected
  line L0 (-69.416, 41.9553) -> (-56.0607, 55.3107) projected
  arc A4 (-53.9393, 53.1893) -> (-56.0607, 55.3107) centre (-55, 54.25) ccw projected
  line L1 (-53.9393, 53.1893) -> (-67.2947, 39.834) projected
  arc A5 (-47.416, 19.9553) -> (-45.2947, 17.834) centre (-46.3553, 18.8947) ccw projected
  line L2 (-47.416, 19.9553) -> (-12.0607, 55.3107) projected
  arc A6 (-9.9393, 53.1893) -> (-12.0607, 55.3107) centre (-11, 54.25) ccw projected
  line L3 (-9.9393, 53.1893) -> (-45.2947, 17.834) projected
  arc A7 (1.0607, 31.1893) -> (-1.0607, 33.3107) centre (0, 32.25) ccw projected
  line L4 (1.0607, 31.1893) -> (-12.2947, 17.834) projected
  arc A8 (-14.416, 19.9553) -> (-12.2947, 17.834) centre (-13.3553, 18.8947) ccw projected
  line L5 (-14.416, 19.9553) -> (-1.0607, 33.3107) projected
  arc A9 (-58.416, 19.9553) -> (-56.2947, 17.834) centre (-57.3553, 18.8947) ccw projected
  line L6 (-58.416, 19.9553) -> (-23.0607, 55.3107) projected
  arc A10 (-20.9393, 53.1893) -> (-23.0607, 55.3107) centre (-22, 54.25) ccw projected
  line L7 (-20.9393, 53.1893) -> (-56.2947, 17.834) projected
  arc A11 (1.0607, 20.1893) -> (-1.0607, 22.3107) centre (0, 21.25) ccw projected
  line L8 (1.0607, 20.1893) -> (-1.2947, 17.834) projected
  arc A12 (-3.416, 19.9553) -> (-1.2947, 17.834) centre (-2.3553, 18.8947) ccw projected
  line L9 (-3.416, 19.9553) -> (-1.0607, 22.3107) projected
  line L10 (-69.416, 30.9553) -> (-45.0607, 55.3107) projected
  arc A13 (-42.9393, 53.1893) -> (-45.0607, 55.3107) centre (-44, 54.25) ccw projected
  line L11 (-42.9393, 53.1893) -> (-67.2947, 28.834) projected
  arc A14 (-69.416, 30.9553) -> (-67.2947, 28.834) centre (-68.3553, 29.8947) ccw projected
  arc A15 (1.0607, 53.1893) -> (-1.0607, 55.3107) centre (0, 54.25) ccw projected
  line L12 (1.0607, 53.1893) -> (-34.2947, 17.834) projected
  arc A16 (-36.416, 19.9553) -> (-34.2947, 17.834) centre (-35.3553, 18.8947) ccw projected
  line L13 (-36.416, 19.9553) -> (-1.0607, 55.3107) projected
  arc A17 (1.0607, 42.1893) -> (-1.0607, 44.3107) centre (0, 43.25) ccw projected
  line L14 (1.0607, 42.1893) -> (-23.2947, 17.834) projected
  arc A18 (-25.416, 19.9553) -> (-23.2947, 17.834) centre (-24.3553, 18.8947) ccw projected
  line L15 (-25.416, 19.9553) -> (-1.0607, 44.3107) projected
  arc A19 (-69.416, 19.9553) -> (-67.2947, 17.834) centre (-68.3553, 18.8947) ccw projected
  line L16 (-69.416, 19.9553) -> (-34.0607, 55.3107) projected
  arc A20 (-31.9393, 53.1893) -> (-34.0607, 55.3107) centre (-33, 54.25) ccw projected
  line L17 (-31.9393, 53.1893) -> (-67.2947, 17.834) projected
  line L18 (-69.416, 52.9553) -> (-67.0607, 55.3107) projected
  arc A21 (-64.9393, 53.1893) -> (-67.0607, 55.3107) centre (-66, 54.25) ccw projected
  line L19 (-64.9393, 53.1893) -> (-67.2947, 50.834) projected
  arc A22 (-69.416, 52.9553) -> (-67.2947, 50.834) centre (-68.3553, 51.8947) ccw projected
  line L20 (-75.25, -79.25) -> (83.5, -79.25) projected
  line L21 (83.5, -79.25) -> (83.5, 79.25) projected
  line L22 (83.5, 79.25) -> (-75.25, 79.25) projected
  line L23 (-75.25, 79.25) -> (-75.25, -79.25) projected
  line L24 (-107, 0) -> (115.25, 0) projected
  line L25 (0, 110.95) -> (0, -110.95) projected
  line L26 (20.15, 72.25) -> (55.15, 72.25)
  line L27 (55.15, 72.25) -> (55.15, 50.25)
  line L28 (55.15, 50.25) -> (20.15, 50.25)
  line L29 (20.15, 50.25) -> (20.15, 72.25)
  point P0 (0, 0)
  point P1 (37.65, 72.25)
  dimension "d92" = 45.85
  dimension "d93" = 7
  dimension "d94" = 22
  dimension "d95" = 35
extrude "Vysunutí7" cut sketch "Náčrt9" against normal up to surface (2.8 mm away) contours L26 L27 L28 L29
sketch "Náčrt10" plane through (0, 0, 2.8) normal (0, 0, 1) x (1, 0, 0)
  line L0 (55.15, 50.25) -> (20.15, 50.25) projected
  line L1 (20.15, 50.25) -> (20.15, 72.25) projected
  line L2 (20.15, 72.25) -> (55.15, 72.25) projected
  line L3 (55.15, 72.25) -> (55.15, 50.25) projected
  circle A0 centre (76.375, 0) radius 3.5 projected
  circle A1 centre (-42.35, 72.125) radius 3.5 projected
  circle A2 centre (-42.35, -72.125) radius 3.5 projected
  arc A3 (-69.416, 41.9553) -> (-67.2947, 39.834) centre (-68.3553, 40.8947) ccw projected
  line L4 (-69.416, 41.9553) -> (-56.0607, 55.3107) projected
  arc A4 (-53.9393, 53.1893) -> (-56.0607, 55.3107) centre (-55, 54.25) ccw projected
  line L5 (-53.9393, 53.1893) -> (-67.2947, 39.834) projected
  arc A5 (-47.416, 19.9553) -> (-45.2947, 17.834) centre (-46.3553, 18.8947) ccw projected
  line L6 (-47.416, 19.9553) -> (-12.0607, 55.3107) projected
  arc A6 (-9.9393, 53.1893) -> (-12.0607, 55.3107) centre (-11, 54.25) ccw projected
  line L7 (-9.9393, 53.1893) -> (-45.2947, 17.834) projected
  arc A7 (1.0607, 31.1893) -> (-1.0607, 33.3107) centre (0, 32.25) ccw projected
  line L8 (1.0607, 31.1893) -> (-12.2947, 17.834) projected
  arc A8 (-14.416, 19.9553) -> (-12.2947, 17.834) centre (-13.3553, 18.8947) ccw projected
  line L9 (-14.416, 19.9553) -> (-1.0607, 33.3107) projected
  arc A9 (-58.416, 19.9553) -> (-56.2947, 17.834) centre (-57.3553, 18.8947) ccw projected
  line L10 (-58.416, 19.9553) -> (-23.0607, 55.3107) projected
  arc A10 (-20.9393, 53.1893) -> (-23.0607, 55.3107) centre (-22, 54.25) ccw projected
  line L11 (-20.9393, 53.1893) -> (-56.2947, 17.834) projected
  arc A11 (1.0607, 20.1893) -> (-1.0607, 22.3107) centre (0, 21.25) ccw projected
  line L12 (1.0607, 20.1893) -> (-1.2947, 17.834) projected
  arc A12 (-3.416, 19.9553) -> (-1.2947, 17.834) centre (-2.3553, 18.8947) ccw projected
  line L13 (-3.416, 19.9553) -> (-1.0607, 22.3107) projected
  line L14 (-69.416, 30.9553) -> (-45.0607, 55.3107) projected
  arc A13 (-42.9393, 53.1893) -> (-45.0607, 55.3107) centre (-44, 54.25) ccw projected
  line L15 (-42.9393, 53.1893) -> (-67.2947, 28.834) projected
  arc A14 (-69.416, 30.9553) -> (-67.2947, 28.834) centre (-68.3553, 29.8947) ccw projected
  arc A15 (1.0607, 53.1893) -> (-1.0607, 55.3107) centre (0, 54.25) ccw projected
  line L16 (1.0607, 53.1893) -> (-34.2947, 17.834) projected
  arc A16 (-36.416, 19.9553) -> (-34.2947, 17.834) centre (-35.3553, 18.8947) ccw projected
  line L17 (-36.416, 19.9553) -> (-1.0607, 55.3107) projected
  arc A17 (1.0607, 42.1893) -> (-1.0607, 44.3107) centre (0, 43.25) ccw projected
  line L18 (1.0607, 42.1893) -> (-23.2947, 17.834) projected
  arc A18 (-25.416, 19.9553) -> (-23.2947, 17.834) centre (-24.3553, 18.8947) ccw projected
  line L19 (-25.416, 19.9553) -> (-1.0607, 44.3107) projected
  arc A19 (-69.416, 19.9553) -> (-67.2947, 17.834) centre (-68.3553, 18.8947) ccw projected
  line L20 (-69.416, 19.9553) -> (-34.0607, 55.3107) projected
  arc A20 (-31.9393, 53.1893) -> (-34.0607, 55.3107) centre (-33, 54.25) ccw projected
  line L21 (-31.9393, 53.1893) -> (-67.2947, 17.834) projected
  line L22 (-69.416, 52.9553) -> (-67.0607, 55.3107) projected
  arc A21 (-64.9393, 53.1893) -> (-67.0607, 55.3107) centre (-66, 54.25) ccw projected
  line L23 (-64.9393, 53.1893) -> (-67.2947, 50.834) projected
  arc A22 (-69.416, 52.9553) -> (-67.2947, 50.834) centre (-68.3553, 51.8947) ccw projected
  line L24 (-75.25, -79.25) -> (83.5, -79.25) projected
  line L25 (83.5, -79.25) -> (83.5, 79.25) projected
  line L26 (83.5, 79.25) -> (-75.25, 79.25) projected
  line L27 (-75.25, 79.25) -> (-75.25, -79.25) projected
  line L28 (0, 110.95) -> (0, -110.95) projected
  line L29 (-107, 0) -> (115.25, 0) projected
  line L30 (59, 38.1441) -> (59, -63.4041) construction
  point P0 (0, 0)
  point P1 (59, 3.88)
  point P2 (59, -12.63)
  point P3 (59, 20.39)
  point P4 (59, -29.14)
  point P5 (59, -45.65)
  dimension "d99" = 24.5
  dimension "d100" = 33.6
  dimension "d101" = 16.51
  dimension "d102" = 16.51
  dimension "d103" = 16.51
  dimension "d104" = 16.51
hole "Díra3" at (59, 3.88, 2.8) at (59, -12.63, 2.8) at (59, 20.39, 2.8) at (59, -29.14, 2.8) at (59, -45.65, 2.8) direction (0, 0, -1) diameter 13 depth 2.8
sketch "Náčrt11" plane through (-7.99, 79.25, -20) normal (-1, 0, 0) x (0, 0, 1)
  line L0 (0, -3) -> (6.2, -3)
  line L1 (6.2, -3) -> (6.2, 1)
  line L2 (6.2, 1) -> (0, 1)
  line L3 (0, 1) -> (0, -3)
  point P0 (20, -79.25)
  dimension "d112" = 6.2
  dimension "d113" = 4
extrude "Vysunutí8" cut sketch "Náčrt11" against normal blind 2.3
sketch "Náčrt12" plane through (0, 0, 0) normal (0, 0, -1) x (-1, 0, 0)
  line L0 (0, -110.95) -> (0, 110.95) projected
  line L1 (-115.25, 0) -> (107, 0) projected
  line L2 (0, -60) -> (70, -60)
  line L3 (70, -60) -> (70, 0)
  line L4 (70, 0) -> (0, 0)
  line L5 (0, 0) -> (0, -60)
  dimension "d116" = 60
  dimension "d117" = 70
extrude "Vysunutí9" cut sketch "Náčrt12" against normal blind 1.5
properties part number "display_cover_part1_back_3D tisk"
